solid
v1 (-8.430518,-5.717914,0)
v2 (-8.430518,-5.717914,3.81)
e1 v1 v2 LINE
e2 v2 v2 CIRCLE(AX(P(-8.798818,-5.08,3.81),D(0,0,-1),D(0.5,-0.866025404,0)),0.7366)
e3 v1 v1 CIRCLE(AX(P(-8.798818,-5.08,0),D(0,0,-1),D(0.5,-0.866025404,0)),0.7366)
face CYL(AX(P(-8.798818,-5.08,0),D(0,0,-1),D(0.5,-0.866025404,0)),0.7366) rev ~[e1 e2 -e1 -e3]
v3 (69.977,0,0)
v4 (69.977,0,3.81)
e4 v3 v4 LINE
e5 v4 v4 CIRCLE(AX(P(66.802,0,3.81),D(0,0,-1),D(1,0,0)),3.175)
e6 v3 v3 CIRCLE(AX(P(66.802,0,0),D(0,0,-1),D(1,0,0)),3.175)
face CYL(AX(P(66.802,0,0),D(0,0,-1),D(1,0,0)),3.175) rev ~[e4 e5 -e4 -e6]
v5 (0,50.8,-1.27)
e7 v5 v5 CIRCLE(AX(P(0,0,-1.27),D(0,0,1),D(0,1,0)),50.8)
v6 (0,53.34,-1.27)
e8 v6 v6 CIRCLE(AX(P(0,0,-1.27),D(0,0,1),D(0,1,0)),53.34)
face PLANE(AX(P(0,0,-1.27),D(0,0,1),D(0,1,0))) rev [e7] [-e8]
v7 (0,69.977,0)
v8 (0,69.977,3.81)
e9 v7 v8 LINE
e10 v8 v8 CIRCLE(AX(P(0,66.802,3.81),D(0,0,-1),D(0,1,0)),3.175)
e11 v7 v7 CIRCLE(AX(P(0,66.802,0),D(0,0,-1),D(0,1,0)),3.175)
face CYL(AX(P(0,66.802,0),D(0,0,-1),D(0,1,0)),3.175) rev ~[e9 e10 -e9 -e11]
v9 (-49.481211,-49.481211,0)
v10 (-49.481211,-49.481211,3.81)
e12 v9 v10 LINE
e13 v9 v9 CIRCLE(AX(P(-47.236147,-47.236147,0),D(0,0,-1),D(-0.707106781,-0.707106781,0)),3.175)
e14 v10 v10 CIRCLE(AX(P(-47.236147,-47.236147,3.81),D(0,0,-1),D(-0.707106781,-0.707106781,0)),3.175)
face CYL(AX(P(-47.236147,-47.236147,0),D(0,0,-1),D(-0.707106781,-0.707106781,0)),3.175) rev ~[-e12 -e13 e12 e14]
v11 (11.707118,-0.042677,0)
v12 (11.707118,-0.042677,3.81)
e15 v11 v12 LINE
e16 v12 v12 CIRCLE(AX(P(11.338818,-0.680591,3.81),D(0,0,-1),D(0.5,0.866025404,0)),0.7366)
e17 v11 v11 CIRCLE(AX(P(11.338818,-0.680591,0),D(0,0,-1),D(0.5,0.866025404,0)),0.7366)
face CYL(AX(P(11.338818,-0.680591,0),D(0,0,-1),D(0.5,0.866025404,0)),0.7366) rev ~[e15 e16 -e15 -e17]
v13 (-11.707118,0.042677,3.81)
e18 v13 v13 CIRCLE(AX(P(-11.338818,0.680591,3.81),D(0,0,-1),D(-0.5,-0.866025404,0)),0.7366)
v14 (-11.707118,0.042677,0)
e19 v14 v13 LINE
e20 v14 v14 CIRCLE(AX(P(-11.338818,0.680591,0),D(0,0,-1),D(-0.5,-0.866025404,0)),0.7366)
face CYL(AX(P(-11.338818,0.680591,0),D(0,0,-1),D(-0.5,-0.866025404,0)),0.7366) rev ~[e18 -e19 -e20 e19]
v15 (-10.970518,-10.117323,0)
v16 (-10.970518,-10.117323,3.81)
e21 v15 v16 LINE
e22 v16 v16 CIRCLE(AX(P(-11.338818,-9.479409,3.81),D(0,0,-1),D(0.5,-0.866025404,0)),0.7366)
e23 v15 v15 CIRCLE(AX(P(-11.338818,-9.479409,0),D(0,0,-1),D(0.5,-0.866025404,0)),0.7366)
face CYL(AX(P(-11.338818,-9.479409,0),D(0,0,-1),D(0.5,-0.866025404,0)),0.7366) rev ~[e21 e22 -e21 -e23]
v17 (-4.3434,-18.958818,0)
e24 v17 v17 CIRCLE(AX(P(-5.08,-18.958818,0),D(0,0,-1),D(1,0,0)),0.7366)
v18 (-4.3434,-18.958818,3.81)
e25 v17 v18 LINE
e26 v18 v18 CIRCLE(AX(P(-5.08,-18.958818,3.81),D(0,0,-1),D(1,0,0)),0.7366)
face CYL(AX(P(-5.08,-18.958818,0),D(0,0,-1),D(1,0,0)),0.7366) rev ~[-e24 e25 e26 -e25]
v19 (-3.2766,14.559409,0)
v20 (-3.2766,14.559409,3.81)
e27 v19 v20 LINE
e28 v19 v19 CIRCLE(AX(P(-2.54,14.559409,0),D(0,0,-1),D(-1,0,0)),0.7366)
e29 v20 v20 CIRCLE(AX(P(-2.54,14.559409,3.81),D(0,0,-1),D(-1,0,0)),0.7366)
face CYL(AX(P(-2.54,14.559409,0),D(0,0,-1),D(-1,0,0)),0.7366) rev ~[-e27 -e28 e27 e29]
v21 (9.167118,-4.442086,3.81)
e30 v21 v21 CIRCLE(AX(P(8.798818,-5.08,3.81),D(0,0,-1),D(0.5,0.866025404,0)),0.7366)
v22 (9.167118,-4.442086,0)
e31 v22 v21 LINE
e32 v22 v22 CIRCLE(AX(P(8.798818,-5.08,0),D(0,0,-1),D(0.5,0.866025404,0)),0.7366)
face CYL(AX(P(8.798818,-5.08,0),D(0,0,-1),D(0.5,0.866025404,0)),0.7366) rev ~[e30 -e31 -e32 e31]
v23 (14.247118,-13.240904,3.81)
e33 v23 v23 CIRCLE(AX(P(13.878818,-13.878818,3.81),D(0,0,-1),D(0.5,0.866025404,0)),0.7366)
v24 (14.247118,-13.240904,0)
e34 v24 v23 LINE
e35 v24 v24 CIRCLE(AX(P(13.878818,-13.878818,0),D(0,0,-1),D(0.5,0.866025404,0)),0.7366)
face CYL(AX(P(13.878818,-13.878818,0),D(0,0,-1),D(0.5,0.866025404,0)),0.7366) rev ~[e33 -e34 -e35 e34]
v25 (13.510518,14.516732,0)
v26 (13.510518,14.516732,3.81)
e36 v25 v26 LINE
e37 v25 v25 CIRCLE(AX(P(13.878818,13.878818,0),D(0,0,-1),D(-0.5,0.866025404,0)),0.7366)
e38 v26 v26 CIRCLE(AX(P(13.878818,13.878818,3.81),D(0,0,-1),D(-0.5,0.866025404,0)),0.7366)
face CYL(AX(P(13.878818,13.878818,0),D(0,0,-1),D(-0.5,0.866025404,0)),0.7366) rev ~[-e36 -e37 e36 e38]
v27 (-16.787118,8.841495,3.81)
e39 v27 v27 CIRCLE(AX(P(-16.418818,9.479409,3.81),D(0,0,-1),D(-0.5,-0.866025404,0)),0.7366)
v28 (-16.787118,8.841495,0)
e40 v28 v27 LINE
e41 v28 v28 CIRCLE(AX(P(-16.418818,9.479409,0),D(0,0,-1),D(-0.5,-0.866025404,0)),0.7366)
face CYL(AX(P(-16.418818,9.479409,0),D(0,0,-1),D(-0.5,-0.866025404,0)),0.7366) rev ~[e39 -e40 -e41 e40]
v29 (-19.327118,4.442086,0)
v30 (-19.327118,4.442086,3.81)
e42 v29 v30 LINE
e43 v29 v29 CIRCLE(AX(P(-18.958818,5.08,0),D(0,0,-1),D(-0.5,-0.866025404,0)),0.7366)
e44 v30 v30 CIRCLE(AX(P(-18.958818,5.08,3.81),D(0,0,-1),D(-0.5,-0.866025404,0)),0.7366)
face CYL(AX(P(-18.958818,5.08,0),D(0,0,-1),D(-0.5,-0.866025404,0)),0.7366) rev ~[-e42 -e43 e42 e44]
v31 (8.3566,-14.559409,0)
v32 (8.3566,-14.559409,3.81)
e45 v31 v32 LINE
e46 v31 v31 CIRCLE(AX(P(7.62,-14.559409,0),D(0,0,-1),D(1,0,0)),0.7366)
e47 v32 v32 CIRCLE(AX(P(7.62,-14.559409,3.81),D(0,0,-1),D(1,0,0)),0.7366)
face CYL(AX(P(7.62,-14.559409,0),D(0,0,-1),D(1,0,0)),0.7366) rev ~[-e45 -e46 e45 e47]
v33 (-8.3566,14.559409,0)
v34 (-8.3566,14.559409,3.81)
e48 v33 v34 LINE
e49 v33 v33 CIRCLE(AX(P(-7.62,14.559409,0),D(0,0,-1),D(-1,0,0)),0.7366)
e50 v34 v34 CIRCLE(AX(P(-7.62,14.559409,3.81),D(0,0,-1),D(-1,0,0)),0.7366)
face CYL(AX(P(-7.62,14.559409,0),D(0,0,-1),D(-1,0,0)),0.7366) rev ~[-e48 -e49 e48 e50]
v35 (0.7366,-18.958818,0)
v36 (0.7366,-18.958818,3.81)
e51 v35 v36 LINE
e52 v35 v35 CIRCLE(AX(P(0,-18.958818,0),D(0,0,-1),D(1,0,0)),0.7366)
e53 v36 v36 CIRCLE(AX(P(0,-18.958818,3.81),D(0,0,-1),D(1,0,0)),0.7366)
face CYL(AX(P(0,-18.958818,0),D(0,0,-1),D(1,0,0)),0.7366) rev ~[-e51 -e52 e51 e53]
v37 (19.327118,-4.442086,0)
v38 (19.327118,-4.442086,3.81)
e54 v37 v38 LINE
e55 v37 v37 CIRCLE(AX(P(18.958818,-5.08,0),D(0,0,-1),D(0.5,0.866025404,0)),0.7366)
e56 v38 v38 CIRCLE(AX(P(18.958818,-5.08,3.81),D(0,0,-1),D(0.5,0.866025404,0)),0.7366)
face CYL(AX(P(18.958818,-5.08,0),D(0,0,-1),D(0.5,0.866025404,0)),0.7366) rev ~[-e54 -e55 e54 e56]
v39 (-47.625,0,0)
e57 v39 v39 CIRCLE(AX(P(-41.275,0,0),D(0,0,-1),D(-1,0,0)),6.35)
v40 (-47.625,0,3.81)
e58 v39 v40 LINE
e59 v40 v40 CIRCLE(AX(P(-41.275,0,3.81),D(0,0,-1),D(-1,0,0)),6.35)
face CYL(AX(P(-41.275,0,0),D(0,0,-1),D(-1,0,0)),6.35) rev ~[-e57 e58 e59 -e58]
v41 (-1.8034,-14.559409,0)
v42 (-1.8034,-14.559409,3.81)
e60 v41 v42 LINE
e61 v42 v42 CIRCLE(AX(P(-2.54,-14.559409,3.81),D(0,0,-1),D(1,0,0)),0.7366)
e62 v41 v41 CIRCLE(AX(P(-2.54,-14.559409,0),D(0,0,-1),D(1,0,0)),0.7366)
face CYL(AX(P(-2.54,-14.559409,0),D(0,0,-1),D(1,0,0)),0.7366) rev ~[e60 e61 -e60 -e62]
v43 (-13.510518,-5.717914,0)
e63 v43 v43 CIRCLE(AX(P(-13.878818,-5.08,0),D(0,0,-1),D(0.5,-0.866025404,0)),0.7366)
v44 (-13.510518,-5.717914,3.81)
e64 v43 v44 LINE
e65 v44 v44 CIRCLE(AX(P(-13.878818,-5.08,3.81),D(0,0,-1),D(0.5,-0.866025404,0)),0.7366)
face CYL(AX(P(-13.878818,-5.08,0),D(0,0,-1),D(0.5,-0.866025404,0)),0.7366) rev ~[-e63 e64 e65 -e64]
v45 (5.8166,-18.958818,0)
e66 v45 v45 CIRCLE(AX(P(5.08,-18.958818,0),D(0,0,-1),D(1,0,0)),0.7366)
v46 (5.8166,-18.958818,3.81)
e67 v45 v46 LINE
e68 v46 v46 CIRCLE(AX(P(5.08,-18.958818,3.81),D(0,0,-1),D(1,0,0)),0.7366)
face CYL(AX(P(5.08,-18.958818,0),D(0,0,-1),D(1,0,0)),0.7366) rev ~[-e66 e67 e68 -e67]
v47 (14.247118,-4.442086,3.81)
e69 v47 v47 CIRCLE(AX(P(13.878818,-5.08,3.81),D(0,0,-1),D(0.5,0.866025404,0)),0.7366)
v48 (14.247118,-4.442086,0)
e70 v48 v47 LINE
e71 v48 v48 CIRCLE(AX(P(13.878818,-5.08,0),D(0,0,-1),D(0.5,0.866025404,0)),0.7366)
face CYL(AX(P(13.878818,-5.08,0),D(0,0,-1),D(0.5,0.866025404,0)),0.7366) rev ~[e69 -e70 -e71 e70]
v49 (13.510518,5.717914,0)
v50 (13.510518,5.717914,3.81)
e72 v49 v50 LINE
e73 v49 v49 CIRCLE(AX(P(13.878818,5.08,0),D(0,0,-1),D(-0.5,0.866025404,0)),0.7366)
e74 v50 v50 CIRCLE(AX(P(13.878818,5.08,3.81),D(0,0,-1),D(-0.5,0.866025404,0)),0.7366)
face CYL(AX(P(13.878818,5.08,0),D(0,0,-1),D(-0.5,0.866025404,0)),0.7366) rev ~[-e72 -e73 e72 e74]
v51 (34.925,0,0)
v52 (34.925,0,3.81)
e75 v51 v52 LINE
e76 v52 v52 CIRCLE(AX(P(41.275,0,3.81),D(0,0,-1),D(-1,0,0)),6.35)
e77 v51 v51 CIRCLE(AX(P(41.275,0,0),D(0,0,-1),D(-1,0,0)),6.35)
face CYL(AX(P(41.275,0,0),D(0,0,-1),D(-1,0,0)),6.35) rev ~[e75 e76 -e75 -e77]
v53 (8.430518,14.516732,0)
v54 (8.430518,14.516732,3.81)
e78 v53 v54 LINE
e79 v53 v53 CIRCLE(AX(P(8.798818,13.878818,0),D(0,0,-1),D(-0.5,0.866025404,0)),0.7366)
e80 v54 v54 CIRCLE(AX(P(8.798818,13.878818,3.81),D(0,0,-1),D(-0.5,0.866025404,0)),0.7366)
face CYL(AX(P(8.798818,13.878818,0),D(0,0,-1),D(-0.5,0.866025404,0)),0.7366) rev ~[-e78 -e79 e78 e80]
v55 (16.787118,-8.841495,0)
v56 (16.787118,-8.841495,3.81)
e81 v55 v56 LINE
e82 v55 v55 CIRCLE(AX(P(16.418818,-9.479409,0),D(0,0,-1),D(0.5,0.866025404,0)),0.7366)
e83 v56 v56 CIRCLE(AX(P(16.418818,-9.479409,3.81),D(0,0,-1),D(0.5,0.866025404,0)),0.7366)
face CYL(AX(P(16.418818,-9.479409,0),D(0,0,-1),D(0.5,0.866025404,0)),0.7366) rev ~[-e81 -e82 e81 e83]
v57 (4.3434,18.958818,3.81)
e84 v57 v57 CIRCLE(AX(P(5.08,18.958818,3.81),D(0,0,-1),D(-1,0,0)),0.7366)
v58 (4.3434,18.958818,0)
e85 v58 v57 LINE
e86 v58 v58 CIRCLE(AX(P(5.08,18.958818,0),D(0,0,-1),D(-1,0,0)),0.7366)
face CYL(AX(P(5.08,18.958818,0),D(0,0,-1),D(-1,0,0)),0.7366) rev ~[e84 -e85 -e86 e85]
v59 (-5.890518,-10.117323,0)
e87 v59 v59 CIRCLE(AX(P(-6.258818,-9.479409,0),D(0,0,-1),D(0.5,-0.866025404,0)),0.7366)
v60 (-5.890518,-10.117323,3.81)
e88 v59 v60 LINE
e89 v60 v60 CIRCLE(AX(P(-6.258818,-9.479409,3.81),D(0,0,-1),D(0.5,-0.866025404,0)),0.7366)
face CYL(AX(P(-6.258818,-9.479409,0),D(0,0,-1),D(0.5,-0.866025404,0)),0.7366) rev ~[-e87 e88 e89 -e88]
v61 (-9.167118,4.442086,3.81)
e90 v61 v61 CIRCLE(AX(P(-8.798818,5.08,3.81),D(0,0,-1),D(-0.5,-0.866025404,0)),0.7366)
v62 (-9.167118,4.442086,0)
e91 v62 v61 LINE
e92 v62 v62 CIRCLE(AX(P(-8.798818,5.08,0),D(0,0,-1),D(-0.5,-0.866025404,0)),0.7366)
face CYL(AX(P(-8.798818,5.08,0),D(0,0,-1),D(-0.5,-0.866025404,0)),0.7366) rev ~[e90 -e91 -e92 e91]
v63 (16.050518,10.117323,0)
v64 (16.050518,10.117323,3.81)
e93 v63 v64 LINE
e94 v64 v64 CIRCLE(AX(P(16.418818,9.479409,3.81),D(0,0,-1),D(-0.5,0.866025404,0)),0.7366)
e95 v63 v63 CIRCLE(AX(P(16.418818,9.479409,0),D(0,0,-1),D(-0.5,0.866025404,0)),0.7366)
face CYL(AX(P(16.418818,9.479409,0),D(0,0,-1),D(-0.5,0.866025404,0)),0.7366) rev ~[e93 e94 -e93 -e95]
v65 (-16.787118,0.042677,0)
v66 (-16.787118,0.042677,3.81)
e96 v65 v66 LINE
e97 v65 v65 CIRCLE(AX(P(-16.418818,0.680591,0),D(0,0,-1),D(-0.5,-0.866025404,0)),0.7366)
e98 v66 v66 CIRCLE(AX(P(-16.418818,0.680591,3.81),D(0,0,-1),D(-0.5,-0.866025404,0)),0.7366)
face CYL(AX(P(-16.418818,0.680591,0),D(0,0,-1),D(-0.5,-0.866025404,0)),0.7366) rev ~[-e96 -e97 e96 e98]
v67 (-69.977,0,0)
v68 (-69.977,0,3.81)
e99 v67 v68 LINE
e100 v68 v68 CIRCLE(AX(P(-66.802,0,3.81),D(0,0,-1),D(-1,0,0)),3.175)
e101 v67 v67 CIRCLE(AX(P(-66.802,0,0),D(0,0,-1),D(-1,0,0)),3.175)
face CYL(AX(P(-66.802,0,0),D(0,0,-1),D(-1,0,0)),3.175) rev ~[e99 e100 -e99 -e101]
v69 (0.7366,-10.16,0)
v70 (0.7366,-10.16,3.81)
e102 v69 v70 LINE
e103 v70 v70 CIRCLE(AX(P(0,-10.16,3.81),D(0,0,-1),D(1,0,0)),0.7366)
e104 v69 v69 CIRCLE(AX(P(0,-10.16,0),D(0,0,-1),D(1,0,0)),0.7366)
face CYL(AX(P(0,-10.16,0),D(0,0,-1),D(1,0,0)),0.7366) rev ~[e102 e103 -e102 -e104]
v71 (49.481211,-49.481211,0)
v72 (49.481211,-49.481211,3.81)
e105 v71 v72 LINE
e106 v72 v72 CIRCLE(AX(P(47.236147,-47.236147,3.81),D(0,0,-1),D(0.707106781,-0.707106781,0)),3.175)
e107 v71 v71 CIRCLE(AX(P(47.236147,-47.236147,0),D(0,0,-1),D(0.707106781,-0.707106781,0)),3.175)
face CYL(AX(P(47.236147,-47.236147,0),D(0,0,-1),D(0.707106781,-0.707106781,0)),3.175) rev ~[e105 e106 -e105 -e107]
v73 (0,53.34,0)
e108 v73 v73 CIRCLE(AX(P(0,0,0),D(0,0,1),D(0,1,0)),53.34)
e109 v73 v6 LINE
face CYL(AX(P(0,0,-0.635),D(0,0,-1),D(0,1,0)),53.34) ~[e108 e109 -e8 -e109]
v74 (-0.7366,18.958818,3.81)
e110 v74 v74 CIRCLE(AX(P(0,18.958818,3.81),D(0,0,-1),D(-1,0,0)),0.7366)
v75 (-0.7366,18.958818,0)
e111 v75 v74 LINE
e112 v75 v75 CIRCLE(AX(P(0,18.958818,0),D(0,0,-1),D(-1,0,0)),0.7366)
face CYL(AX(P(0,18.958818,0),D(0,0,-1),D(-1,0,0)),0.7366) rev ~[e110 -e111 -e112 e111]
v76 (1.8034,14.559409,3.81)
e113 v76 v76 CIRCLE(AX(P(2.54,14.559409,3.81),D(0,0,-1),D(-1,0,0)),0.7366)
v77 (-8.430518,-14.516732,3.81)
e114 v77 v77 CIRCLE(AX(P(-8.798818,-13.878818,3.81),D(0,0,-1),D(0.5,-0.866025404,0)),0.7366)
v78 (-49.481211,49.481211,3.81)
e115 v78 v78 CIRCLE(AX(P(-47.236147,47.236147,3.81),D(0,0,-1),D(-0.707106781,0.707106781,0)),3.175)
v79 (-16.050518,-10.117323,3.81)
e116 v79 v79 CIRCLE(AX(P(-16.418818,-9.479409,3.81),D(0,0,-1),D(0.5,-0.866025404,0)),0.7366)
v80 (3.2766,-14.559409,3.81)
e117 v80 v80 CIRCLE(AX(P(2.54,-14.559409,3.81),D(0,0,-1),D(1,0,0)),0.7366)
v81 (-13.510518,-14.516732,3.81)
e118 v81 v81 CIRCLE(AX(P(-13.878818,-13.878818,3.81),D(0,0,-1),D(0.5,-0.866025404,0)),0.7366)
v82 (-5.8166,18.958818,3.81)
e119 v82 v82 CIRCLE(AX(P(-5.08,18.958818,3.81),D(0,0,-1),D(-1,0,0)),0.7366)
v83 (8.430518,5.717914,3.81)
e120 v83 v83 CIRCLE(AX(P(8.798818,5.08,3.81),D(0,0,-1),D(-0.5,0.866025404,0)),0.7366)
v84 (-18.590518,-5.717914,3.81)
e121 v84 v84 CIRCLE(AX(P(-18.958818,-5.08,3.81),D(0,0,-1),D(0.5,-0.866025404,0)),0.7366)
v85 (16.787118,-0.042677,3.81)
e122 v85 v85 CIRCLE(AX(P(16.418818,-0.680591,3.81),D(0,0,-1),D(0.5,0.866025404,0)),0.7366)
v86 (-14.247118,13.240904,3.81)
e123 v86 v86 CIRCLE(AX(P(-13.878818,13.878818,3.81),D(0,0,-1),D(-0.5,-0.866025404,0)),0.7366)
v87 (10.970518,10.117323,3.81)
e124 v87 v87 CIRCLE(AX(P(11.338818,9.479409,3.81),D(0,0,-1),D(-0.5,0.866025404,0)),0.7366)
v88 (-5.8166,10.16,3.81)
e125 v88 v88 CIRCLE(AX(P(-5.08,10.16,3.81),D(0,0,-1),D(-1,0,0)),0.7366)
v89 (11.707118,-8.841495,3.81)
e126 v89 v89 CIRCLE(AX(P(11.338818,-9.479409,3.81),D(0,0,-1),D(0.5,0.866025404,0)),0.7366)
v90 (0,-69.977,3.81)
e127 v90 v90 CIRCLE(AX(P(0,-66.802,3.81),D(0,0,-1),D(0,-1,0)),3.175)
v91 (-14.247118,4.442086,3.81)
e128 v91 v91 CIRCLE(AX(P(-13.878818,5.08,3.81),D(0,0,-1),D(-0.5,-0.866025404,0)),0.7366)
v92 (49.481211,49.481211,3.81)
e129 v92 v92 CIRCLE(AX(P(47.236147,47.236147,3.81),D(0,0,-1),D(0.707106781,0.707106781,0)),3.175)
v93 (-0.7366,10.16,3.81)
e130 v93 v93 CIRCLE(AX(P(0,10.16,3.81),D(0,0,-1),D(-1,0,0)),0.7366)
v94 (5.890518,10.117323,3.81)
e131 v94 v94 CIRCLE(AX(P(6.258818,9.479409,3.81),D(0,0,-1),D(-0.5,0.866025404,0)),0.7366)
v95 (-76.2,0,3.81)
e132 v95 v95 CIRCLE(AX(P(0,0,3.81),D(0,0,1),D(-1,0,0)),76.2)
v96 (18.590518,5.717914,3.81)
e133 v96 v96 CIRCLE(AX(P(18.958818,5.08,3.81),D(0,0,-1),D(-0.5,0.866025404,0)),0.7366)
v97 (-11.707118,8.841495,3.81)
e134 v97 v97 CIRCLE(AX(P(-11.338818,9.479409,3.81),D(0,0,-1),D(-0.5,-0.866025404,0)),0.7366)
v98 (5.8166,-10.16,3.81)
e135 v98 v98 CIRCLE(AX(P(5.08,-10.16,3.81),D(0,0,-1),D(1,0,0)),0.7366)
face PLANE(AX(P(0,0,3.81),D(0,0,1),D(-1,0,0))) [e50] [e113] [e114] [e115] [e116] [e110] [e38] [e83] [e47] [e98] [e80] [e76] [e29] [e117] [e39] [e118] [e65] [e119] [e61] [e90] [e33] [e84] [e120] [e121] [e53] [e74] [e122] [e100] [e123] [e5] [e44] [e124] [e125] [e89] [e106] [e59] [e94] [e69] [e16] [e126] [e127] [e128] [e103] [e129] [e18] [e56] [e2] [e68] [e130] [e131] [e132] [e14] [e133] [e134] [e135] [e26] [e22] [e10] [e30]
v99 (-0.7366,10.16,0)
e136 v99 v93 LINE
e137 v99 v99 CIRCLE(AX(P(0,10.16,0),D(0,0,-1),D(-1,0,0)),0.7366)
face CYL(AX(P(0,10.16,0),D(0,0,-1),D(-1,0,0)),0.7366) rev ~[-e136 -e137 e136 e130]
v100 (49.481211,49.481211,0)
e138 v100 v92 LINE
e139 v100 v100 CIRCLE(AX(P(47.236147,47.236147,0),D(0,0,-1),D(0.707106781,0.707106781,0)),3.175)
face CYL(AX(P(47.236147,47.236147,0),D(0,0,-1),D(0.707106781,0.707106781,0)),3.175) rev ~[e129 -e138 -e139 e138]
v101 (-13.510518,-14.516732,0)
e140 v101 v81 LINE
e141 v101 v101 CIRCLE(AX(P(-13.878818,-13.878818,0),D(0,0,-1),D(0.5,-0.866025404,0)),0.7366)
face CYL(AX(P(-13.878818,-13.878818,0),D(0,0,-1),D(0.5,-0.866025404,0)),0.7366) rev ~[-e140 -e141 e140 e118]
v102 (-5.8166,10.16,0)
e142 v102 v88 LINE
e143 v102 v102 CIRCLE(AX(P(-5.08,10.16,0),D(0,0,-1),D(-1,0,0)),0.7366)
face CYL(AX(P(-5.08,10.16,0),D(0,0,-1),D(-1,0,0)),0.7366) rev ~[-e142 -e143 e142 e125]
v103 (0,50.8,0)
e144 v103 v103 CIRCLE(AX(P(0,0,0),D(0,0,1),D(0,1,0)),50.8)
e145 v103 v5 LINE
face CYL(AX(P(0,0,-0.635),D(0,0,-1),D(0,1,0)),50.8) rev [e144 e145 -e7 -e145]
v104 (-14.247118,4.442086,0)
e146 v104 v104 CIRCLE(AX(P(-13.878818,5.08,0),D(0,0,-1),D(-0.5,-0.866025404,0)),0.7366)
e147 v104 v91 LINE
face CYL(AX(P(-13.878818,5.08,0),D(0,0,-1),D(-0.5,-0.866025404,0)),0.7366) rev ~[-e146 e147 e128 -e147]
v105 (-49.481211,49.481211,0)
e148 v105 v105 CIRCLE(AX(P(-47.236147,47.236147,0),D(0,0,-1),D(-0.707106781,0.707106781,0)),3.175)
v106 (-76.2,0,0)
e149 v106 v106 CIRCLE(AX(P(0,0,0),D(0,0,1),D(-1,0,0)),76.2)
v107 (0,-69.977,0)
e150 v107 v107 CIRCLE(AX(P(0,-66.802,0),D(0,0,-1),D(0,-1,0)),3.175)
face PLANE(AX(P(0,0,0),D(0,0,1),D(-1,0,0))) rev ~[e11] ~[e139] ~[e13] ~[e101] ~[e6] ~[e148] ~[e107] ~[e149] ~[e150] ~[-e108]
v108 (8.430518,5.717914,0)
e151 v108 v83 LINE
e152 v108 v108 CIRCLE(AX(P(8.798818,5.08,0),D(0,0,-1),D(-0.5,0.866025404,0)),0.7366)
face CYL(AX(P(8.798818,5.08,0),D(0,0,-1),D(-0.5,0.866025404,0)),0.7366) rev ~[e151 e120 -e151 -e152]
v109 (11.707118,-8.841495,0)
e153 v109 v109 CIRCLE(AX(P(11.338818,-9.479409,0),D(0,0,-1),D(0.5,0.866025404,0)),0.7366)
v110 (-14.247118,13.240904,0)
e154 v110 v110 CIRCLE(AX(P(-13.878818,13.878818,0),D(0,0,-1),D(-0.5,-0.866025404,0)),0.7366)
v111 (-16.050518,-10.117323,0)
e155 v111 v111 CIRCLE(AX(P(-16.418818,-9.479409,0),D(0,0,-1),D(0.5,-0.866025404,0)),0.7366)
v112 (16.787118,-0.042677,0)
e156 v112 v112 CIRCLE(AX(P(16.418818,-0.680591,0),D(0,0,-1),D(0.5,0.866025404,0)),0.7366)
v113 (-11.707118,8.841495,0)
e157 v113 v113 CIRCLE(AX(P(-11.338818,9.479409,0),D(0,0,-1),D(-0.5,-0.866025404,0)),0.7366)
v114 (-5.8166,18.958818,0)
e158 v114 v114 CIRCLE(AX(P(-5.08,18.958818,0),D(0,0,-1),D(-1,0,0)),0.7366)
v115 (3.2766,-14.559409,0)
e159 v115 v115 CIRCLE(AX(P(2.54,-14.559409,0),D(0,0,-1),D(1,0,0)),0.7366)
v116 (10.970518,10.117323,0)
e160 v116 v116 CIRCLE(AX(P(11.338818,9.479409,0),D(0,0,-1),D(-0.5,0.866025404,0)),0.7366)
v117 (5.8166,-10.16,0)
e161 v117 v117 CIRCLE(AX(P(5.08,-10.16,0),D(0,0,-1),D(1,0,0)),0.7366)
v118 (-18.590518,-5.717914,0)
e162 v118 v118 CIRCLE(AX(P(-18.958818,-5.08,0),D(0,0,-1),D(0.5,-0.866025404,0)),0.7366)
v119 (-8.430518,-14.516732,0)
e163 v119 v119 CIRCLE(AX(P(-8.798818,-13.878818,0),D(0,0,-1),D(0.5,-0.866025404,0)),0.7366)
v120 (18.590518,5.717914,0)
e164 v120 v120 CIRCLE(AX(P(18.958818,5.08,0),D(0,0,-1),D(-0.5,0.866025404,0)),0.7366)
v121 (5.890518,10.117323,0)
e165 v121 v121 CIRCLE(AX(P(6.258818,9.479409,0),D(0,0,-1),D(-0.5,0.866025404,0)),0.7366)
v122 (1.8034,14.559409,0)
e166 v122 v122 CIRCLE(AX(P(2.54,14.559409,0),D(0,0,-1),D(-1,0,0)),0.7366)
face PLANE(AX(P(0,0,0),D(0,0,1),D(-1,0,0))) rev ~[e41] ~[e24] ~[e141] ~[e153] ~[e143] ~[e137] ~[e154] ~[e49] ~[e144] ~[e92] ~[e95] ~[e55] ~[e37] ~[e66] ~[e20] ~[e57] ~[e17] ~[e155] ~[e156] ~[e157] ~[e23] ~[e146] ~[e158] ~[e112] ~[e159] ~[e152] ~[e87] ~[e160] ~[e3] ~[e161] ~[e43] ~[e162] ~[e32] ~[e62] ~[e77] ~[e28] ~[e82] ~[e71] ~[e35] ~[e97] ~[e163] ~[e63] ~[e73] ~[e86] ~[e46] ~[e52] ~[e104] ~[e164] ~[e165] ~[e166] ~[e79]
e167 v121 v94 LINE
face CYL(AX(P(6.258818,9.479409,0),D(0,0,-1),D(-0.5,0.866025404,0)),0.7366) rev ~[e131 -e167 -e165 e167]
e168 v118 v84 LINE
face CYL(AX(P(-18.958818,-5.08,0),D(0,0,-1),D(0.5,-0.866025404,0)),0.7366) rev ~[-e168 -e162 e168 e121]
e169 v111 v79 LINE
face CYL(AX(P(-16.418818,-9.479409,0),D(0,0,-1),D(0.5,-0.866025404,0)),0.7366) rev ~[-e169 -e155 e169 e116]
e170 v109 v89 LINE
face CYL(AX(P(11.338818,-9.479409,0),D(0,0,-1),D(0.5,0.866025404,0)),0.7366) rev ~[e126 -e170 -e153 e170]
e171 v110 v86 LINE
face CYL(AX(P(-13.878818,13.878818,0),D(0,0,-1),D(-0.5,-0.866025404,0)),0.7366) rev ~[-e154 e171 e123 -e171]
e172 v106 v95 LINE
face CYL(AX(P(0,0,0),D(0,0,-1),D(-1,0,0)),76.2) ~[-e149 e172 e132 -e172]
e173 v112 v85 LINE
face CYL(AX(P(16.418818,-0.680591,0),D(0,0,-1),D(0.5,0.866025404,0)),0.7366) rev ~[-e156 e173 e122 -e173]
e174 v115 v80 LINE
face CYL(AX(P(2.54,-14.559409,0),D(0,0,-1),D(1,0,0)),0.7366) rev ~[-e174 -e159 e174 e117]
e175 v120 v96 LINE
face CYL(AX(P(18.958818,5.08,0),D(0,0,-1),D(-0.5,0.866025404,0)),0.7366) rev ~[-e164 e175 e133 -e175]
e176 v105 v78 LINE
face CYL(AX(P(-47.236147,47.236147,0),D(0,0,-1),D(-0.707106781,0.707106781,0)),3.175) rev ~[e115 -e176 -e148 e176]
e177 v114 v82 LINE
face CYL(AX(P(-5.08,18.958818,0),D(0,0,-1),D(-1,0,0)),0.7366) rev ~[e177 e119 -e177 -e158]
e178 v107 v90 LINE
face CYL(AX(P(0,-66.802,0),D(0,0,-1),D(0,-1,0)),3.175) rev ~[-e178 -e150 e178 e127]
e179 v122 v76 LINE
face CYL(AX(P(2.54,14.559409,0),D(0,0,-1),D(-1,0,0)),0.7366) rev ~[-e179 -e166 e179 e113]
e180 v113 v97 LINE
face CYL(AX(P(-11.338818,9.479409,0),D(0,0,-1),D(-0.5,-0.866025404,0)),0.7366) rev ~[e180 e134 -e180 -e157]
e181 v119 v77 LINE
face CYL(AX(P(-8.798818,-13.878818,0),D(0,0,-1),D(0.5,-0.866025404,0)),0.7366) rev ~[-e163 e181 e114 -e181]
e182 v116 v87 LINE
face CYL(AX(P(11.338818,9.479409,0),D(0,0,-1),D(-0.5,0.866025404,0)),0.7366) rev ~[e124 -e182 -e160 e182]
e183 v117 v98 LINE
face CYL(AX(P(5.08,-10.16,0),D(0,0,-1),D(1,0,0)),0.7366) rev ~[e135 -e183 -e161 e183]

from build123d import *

# Parameters (mm, degrees)
SKETCH1_R           = 76.2
BOSS_EXTRUDE1_DEPTH = 3.81
SKETCH2_R           = 0.7366
CUT_EXTRUDE1_DEPTH  = 108.830404339
CIRPATTERN1_COUNT   = 6
SKETCH3_R           = 6.35
CUT_EXTRUDE2_DEPTH  = 108.830404339
SKETCH5_R           = 3.175
CUT_EXTRUDE3_DEPTH  = 108.830404339
CIRPATTERN2_COUNT   = 8
SKETCH6_W           = 1.27
SKETCH6_H           = 2.54


with BuildPart() as part:
    # Sketch1 → Boss-Extrude1 (new body)
    with BuildSketch(Plane.XY):
        with Locations(Location((0, 0, 0), (0, 0, 180))):
            Circle(SKETCH1_R)
    extrude(amount=BOSS_EXTRUDE1_DEPTH)

    # Sketch2 → Cut-Extrude1 (cut, through all)
    with BuildSketch(Plane(origin=(0, 0, 0), x_dir=(-1, 0, 0), z_dir=(0, 0, -1))):
        with Locations((0, 10.16)):
            Circle(SKETCH2_R)
        with Locations((2.54, 14.559409051)):
            Circle(SKETCH2_R)
        with Locations((5.08, 10.16)):
            Circle(SKETCH2_R)
        with Locations((7.62, 14.559409051)):
            Circle(SKETCH2_R)
        with Locations((-2.54, 14.559409051)):
            Circle(SKETCH2_R)
        with Locations((-5.08, 18.958818102)):
            Circle(SKETCH2_R)
        with Locations((0, 18.958818102)):
            Circle(SKETCH2_R)
        with Locations((5.08, 18.958818102)):
            Circle(SKETCH2_R)
    cut_extrude1 = extrude(amount=-CUT_EXTRUDE1_DEPTH, mode=Mode.SUBTRACT)

    # CirPattern1: Cut-Extrude1 ×6 about axis
    cirpattern1_axis = Axis((0, 0, 0), (0, 0, 1))
    for i in range(1, CIRPATTERN1_COUNT):
        add(cut_extrude1.rotate(cirpattern1_axis, i * 360 / CIRPATTERN1_COUNT), mode=Mode.SUBTRACT)

    # Sketch3 → Cut-Extrude2 (cut, through all)
    with BuildSketch(Plane(origin=(0, 0, 0), x_dir=(-1, 0, 0), z_dir=(0, 0, -1))):
        with Locations((41.275, 0)):
            Circle(SKETCH3_R)
        with Locations((-41.275, 0)):
            Circle(SKETCH3_R)
    extrude(amount=-CUT_EXTRUDE2_DEPTH, mode=Mode.SUBTRACT)

    # Sketch5 → Cut-Extrude3 (cut, through all)
    with BuildSketch(Plane(origin=(0, 0, 0), x_dir=(-1, 0, 0), z_dir=(0, 0, -1))):
        with Locations((66.802, 0)):
            Circle(SKETCH5_R)
    cut_extrude3 = extrude(amount=-CUT_EXTRUDE3_DEPTH, mode=Mode.SUBTRACT)

    # CirPattern2: Cut-Extrude3 ×8 about axis
    cirpattern2_axis = Axis((0, 0, 0), (0, 0, 1))
    for i in range(1, CIRPATTERN2_COUNT):
        add(cut_extrude3.rotate(cirpattern2_axis, i * 360 / CIRPATTERN2_COUNT), mode=Mode.SUBTRACT)

    # Sketch6 → Revolve1 (revolve)
    with BuildSketch(Plane(origin=(0, 0, 0), x_dir=(0, 0, -1), z_dir=(1, 0, 0))):
        with Locations((0.635, 52.07)):
            Rectangle(SKETCH6_W, SKETCH6_H)
    revolve(axis=Axis((0, 0, 0), (0, 0, 1)))


solid = part.part
